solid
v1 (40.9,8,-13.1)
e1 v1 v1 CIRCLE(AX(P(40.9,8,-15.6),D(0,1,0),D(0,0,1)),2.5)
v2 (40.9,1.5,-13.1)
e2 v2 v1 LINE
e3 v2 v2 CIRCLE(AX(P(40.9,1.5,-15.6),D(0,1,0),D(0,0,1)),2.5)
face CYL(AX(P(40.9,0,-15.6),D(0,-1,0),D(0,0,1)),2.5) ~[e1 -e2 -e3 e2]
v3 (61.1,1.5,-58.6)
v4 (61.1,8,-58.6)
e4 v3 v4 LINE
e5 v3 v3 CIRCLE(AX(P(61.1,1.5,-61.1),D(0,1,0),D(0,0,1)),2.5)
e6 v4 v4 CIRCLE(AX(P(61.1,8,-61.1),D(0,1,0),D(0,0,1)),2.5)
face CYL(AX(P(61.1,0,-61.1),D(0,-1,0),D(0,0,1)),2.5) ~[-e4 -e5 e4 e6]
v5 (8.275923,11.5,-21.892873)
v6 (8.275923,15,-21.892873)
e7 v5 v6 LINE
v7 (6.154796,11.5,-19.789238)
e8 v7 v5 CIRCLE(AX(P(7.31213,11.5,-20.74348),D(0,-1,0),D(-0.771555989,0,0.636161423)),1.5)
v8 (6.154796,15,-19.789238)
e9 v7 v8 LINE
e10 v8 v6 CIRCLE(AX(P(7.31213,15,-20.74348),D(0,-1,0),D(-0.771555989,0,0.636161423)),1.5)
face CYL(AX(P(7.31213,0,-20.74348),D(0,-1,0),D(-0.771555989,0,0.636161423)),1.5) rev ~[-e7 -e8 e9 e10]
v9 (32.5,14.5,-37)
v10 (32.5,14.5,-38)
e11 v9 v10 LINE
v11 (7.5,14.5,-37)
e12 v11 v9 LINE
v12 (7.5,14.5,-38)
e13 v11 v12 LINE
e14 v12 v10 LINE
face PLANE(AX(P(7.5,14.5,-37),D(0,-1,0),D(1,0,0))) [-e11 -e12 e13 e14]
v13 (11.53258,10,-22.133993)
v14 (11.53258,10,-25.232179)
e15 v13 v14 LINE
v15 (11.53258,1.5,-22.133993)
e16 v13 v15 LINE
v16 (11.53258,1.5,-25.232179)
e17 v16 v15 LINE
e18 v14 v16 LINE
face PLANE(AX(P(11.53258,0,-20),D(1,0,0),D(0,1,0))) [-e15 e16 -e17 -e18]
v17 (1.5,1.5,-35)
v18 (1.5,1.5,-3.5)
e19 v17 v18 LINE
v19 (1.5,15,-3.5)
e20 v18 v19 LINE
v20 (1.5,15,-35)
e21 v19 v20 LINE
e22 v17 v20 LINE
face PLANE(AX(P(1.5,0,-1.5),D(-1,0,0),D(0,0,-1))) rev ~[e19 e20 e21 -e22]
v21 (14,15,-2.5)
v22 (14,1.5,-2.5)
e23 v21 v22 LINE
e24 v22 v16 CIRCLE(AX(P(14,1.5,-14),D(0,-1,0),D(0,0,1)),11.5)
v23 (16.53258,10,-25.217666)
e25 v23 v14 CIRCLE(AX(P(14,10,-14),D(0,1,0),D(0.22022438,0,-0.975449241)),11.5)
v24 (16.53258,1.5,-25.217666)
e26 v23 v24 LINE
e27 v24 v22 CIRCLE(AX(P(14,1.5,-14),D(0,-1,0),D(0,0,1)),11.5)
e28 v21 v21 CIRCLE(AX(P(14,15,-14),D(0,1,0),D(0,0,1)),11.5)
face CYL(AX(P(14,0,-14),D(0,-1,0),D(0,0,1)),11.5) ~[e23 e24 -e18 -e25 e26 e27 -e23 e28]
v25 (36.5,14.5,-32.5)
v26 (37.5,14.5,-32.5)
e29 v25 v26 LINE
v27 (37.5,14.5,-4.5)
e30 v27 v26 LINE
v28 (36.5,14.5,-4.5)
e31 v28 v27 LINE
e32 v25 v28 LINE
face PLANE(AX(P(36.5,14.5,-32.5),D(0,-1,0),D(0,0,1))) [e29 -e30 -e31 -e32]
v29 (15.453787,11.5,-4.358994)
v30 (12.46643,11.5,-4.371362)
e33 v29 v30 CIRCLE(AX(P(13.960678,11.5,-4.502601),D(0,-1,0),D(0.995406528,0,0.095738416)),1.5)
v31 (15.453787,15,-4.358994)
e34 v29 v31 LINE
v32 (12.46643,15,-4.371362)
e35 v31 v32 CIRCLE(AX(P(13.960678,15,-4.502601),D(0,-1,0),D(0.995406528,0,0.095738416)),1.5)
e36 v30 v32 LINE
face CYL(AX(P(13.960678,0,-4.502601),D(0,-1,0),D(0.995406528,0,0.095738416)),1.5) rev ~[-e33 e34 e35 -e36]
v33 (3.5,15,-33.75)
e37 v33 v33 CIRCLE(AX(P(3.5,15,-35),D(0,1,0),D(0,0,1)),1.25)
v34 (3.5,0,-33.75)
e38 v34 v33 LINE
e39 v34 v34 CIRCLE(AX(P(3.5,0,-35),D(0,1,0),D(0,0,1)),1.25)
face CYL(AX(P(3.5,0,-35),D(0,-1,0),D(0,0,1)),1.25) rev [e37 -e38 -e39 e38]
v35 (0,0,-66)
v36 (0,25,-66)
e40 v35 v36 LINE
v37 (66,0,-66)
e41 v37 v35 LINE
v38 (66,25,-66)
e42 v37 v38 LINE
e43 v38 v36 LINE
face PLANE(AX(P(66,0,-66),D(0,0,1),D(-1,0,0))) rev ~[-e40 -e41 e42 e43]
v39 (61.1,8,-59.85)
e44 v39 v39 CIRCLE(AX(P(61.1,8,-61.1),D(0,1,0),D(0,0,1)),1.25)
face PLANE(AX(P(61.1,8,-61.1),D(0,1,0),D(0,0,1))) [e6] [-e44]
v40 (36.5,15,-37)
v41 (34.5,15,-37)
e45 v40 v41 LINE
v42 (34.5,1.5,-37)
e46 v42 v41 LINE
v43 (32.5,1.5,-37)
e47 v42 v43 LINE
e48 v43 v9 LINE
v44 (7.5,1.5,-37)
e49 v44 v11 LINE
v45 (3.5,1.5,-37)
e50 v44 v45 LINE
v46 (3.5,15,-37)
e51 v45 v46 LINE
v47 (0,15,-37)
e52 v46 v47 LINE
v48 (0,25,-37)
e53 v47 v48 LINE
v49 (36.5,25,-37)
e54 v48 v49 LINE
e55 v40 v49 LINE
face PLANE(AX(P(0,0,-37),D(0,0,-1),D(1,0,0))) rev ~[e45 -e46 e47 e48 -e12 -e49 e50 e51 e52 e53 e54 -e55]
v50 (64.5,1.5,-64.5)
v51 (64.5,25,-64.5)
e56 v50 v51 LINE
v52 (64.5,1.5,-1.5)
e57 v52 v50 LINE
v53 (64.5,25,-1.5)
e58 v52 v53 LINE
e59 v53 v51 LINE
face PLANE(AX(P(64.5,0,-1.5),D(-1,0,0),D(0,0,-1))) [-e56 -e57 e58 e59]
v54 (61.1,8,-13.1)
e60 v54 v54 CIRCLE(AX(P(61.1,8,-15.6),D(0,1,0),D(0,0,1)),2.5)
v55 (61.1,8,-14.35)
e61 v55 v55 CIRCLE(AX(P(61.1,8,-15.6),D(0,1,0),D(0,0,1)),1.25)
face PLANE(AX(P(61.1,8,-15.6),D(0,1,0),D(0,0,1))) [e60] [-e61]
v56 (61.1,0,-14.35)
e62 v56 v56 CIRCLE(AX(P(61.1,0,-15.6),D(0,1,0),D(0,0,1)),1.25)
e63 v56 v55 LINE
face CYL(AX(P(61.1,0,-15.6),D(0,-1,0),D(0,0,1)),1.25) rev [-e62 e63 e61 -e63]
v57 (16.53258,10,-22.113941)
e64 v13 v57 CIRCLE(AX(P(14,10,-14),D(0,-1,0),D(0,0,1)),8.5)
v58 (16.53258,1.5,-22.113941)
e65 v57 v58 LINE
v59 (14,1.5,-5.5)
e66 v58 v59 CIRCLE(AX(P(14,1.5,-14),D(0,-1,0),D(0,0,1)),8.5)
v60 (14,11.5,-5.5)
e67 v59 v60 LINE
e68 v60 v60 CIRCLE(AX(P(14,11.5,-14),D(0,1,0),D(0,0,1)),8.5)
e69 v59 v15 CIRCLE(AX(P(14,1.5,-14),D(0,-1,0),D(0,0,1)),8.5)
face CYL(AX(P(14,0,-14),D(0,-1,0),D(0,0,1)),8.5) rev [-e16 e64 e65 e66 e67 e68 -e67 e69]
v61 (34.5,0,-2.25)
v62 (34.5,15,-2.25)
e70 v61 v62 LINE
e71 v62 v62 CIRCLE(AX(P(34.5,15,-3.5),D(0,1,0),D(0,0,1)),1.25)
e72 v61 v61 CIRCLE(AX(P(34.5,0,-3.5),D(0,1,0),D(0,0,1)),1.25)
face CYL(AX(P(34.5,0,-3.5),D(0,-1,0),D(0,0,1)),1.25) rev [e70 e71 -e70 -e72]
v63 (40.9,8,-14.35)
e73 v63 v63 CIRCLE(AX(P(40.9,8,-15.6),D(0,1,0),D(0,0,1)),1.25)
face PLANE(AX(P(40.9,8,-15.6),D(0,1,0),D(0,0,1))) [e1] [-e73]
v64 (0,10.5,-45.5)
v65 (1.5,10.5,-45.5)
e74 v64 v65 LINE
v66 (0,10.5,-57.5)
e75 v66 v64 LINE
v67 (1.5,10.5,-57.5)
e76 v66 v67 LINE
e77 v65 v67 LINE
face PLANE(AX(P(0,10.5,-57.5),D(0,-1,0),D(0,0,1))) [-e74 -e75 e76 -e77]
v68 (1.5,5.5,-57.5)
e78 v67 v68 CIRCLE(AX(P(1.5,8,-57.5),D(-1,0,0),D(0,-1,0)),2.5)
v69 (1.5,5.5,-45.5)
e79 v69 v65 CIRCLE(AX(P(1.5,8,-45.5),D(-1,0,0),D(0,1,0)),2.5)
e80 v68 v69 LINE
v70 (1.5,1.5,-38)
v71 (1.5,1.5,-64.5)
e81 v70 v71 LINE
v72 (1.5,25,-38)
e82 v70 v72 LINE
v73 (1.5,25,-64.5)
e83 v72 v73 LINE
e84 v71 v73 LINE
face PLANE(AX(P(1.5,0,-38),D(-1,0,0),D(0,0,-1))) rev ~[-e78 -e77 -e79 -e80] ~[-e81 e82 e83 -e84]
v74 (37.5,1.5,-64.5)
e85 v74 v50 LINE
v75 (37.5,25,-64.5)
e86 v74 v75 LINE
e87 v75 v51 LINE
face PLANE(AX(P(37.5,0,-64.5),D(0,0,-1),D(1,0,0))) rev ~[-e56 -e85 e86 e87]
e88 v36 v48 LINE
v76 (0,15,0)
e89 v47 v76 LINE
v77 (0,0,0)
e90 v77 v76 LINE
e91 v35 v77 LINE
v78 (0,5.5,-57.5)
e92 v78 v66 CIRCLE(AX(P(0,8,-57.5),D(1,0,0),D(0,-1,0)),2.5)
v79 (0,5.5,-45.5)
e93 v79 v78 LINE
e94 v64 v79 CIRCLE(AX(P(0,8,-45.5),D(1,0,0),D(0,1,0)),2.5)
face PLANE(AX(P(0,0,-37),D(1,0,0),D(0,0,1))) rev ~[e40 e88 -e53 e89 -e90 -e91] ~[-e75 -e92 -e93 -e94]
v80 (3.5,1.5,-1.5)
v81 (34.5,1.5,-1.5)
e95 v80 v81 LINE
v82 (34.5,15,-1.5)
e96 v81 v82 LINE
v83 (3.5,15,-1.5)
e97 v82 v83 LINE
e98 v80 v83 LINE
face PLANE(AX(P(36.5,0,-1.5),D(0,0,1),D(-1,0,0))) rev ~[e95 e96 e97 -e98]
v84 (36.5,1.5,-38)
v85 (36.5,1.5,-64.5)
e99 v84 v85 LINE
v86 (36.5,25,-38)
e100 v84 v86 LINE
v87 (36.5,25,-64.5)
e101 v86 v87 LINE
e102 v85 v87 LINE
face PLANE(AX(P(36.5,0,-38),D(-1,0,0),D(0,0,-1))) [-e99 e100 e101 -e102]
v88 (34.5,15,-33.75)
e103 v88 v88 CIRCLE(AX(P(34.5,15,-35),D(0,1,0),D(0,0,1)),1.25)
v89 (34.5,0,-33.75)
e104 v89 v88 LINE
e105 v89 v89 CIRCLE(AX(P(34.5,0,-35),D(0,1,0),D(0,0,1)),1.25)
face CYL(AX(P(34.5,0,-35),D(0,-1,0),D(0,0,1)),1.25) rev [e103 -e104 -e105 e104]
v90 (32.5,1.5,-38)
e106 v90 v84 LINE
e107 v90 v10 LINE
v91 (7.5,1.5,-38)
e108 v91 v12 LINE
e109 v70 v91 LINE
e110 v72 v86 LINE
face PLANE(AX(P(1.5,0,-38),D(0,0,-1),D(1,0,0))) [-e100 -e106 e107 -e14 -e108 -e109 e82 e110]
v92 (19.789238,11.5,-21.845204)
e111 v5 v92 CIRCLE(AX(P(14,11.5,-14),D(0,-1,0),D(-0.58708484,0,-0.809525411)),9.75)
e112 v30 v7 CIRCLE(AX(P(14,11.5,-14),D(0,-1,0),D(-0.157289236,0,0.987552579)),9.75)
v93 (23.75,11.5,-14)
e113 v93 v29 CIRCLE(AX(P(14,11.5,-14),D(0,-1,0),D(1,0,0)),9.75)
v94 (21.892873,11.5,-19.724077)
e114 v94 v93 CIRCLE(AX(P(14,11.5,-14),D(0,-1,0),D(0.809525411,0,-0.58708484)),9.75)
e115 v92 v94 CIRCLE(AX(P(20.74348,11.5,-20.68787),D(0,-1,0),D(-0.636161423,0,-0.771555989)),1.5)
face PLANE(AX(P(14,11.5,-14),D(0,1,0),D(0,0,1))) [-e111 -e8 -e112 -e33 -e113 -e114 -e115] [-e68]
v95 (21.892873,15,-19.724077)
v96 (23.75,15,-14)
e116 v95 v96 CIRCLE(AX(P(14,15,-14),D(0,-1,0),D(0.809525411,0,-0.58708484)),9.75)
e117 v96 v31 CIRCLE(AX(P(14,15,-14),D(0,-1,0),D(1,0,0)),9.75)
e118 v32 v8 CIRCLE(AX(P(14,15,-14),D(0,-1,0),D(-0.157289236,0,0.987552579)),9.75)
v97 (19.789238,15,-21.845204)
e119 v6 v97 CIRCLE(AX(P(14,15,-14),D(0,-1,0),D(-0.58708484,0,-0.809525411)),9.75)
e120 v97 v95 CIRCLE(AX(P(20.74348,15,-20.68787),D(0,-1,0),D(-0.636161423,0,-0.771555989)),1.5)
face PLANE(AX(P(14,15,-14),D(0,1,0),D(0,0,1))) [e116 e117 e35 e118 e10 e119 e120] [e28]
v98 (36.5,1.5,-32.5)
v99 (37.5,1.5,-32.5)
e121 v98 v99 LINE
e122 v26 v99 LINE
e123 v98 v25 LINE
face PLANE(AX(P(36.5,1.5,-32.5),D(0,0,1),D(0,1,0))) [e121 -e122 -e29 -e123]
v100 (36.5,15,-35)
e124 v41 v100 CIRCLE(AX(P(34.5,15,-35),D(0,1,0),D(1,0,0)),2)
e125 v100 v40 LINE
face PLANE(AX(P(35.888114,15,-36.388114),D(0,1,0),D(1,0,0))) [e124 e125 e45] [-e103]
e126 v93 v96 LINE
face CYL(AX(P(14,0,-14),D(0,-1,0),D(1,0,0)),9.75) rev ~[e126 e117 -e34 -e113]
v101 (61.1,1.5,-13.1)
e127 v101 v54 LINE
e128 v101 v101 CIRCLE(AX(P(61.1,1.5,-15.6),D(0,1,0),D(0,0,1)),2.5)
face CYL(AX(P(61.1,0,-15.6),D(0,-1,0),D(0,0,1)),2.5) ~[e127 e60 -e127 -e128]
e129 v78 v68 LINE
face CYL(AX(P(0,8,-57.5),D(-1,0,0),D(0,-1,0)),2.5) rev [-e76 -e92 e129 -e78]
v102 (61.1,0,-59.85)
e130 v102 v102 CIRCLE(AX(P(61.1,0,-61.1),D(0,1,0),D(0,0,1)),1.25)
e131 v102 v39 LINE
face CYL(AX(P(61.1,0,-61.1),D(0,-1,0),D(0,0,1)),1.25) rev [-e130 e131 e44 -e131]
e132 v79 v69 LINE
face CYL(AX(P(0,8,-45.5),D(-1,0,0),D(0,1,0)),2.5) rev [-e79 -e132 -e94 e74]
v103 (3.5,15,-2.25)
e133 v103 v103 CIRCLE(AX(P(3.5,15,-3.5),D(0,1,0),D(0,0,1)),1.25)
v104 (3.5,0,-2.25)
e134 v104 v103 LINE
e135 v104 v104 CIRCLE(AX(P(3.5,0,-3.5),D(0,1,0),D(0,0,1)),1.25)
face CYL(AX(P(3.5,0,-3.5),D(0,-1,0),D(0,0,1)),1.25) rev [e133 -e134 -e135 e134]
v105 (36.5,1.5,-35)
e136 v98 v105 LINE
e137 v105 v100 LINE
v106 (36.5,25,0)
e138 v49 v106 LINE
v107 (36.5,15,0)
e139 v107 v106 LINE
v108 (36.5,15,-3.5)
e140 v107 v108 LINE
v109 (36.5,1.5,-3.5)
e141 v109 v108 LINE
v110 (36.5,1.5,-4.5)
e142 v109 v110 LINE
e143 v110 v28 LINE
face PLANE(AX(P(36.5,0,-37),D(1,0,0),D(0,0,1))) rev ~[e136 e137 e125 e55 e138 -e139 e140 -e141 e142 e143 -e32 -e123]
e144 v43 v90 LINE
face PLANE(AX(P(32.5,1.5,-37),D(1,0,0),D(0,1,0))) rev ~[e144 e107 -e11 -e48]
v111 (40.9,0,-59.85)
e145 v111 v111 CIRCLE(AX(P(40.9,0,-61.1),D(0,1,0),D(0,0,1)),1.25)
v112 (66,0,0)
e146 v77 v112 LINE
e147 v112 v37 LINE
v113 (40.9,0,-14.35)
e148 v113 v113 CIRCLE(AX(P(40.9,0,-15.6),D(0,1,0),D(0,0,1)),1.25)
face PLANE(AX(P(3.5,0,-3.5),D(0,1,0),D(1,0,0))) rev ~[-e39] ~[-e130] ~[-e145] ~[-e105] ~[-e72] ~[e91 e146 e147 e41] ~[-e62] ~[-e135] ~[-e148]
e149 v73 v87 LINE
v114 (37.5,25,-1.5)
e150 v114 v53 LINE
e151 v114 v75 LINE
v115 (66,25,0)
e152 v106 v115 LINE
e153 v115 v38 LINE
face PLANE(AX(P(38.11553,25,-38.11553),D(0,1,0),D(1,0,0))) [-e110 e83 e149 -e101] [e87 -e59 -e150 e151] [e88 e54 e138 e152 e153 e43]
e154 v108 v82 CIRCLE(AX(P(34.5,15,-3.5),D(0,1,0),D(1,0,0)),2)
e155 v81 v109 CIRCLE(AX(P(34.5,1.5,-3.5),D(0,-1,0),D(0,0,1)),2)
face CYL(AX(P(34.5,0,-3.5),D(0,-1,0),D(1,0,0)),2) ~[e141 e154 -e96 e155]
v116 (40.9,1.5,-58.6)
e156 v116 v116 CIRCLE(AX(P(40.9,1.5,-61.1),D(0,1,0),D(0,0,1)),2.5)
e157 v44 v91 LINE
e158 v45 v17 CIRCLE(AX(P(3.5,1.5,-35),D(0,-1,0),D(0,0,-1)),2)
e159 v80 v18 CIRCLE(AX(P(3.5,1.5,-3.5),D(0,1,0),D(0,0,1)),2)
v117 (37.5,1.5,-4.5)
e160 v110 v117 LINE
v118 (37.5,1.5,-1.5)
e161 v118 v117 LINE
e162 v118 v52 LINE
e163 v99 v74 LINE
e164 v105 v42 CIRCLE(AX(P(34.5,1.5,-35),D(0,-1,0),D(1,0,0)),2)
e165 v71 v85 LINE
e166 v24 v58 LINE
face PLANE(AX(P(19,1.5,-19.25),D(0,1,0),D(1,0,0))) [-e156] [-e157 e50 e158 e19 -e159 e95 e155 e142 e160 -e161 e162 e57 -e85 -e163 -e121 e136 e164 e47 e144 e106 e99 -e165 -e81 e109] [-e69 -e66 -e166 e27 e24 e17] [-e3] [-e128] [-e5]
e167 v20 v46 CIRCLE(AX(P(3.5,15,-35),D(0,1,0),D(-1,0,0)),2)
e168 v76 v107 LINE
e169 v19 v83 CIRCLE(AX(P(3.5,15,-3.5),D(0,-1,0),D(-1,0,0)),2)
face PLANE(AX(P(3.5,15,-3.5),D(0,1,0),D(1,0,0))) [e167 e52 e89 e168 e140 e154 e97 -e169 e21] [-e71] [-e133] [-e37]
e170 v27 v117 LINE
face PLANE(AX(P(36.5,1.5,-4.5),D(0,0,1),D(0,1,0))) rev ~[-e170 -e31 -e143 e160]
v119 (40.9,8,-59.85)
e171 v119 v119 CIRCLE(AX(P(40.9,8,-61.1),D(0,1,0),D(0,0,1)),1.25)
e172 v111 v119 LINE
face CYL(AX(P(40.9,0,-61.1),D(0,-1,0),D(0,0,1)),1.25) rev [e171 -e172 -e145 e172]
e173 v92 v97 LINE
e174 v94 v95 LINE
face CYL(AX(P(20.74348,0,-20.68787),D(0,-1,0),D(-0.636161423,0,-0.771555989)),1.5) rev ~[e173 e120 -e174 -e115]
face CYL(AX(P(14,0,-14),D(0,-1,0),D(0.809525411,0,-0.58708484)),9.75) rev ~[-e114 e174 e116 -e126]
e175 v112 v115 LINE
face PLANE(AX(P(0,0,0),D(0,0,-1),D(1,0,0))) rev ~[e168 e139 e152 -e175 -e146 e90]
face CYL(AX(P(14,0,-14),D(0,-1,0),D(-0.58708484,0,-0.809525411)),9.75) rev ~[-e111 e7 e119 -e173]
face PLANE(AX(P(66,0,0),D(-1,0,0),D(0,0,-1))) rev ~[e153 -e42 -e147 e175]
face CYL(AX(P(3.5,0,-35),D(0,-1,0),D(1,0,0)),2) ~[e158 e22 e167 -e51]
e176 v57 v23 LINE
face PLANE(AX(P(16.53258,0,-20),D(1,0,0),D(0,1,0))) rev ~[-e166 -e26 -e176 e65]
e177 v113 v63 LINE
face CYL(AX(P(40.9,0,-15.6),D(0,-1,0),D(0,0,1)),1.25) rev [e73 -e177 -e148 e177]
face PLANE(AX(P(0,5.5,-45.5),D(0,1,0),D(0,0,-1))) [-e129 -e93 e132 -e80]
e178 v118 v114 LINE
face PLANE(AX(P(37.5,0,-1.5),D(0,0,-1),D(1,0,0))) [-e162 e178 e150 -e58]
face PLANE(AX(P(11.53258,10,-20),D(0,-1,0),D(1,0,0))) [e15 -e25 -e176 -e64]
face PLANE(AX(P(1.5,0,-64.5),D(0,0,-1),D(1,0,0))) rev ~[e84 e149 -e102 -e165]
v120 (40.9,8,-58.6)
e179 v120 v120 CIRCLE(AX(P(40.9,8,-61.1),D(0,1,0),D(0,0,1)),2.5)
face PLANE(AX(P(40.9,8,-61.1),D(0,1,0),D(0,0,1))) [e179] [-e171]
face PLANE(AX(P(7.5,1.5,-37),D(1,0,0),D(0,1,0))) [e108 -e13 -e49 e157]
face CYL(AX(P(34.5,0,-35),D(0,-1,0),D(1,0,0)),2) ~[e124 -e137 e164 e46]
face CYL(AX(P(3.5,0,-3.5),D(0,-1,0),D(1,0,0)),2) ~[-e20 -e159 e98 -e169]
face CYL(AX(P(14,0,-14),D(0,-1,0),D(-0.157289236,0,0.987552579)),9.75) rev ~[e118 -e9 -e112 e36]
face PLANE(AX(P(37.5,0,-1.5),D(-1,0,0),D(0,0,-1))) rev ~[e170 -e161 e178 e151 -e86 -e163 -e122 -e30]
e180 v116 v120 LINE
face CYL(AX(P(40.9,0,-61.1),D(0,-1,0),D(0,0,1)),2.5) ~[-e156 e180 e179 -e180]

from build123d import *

# Parameters (mm, degrees)
SKETCH_223_R             = 11.5
SKETCH_223_R_2           = 8.5
EXTRUDE_6_DEPTH          = 11.5
SKETCH_7_R               = 11.5
EXTRUDE_7_DEPTH          = 15
CUT_EXTRUDE_1_REACH      = 36.373
CUT_EXTRUDE_1_END_RADIUS = 11.5
SKETCH_4_W               = 5
SKETCH_4_H               = 10
SKETCH_1_W               = 35
SKETCH_1_H               = 26.5
SKETCH_1_W_2             = 27
SKETCH_1_H_2             = 63
SKETCH_1_R               = 2.5
EXTRUDE_8_DEPTH          = 1.5
SKETCH_1_5_W             = 27
SKETCH_1_5_H             = 63
SKETCH_1_5_W_2           = 35
SKETCH_1_5_H_2           = 26.5
EXTRUDE_9_DEPTH          = 25
SKETCH_1_6_R             = 2.5
SKETCH_1_6_R_2           = 1.25
EXTRUDE_10_DEPTH         = 8
EXTRUDE_11_DEPTH         = 15
SKETCH_1_9_R             = 2
SKETCH_1_9_R_2           = 1.25
EXTRUDE_22_DEPTH         = 15
CUT_EXTRUDE_2_REACH      = 81.456
SKETCH_5_W               = 28
SKETCH_5_H               = 13
CUT_EXTRUDE_3_REACH      = 81.687
SKETCH_6_W               = 25
SKETCH_6_H               = 13
CUT_EXTRUDE_4_REACH      = 98.628


with BuildPart() as part:
    # Sketch 223 → 凸台-拉伸6 (new body)
    with BuildSketch(Plane(origin=(0, 0, 0), x_dir=(1, 0, 0), z_dir=(0, 1, 0))):
        with Locations(Location((14, 14, 0), (0, 0, 270))):
            Circle(SKETCH_223_R)
        with Locations(Location((14, 14, 0), (0, 0, 270))):
            Circle(SKETCH_223_R_2, mode=Mode.SUBTRACT)
    extrude(amount=EXTRUDE_6_DEPTH)

    # Sketch 7 → 凸台-拉伸7 (add)
    with BuildSketch(Plane(origin=(0, 0, 0), x_dir=(1, 0, 0), z_dir=(0, 1, 0))):
        with Locations(Location((14, 14, 0), (0, 0, 270))):
            Circle(SKETCH_7_R)
        with BuildLine():
            ThreePointArc((21.892872757, 19.724077187), (23.274103983, 17.008902675), (23.75, 14))
            ThreePointArc((23.75, 14), (21.390430568, 7.640437435), (15.453787483, 4.358993727))
            ThreePointArc((15.453787483, 4.358993727), (13.954467258, 3.002614207), (12.466429945, 4.371362356))
            ThreePointArc((12.466429945, 4.371362356), (4.976803671, 10.306163512), (6.1547961, 19.789237926))
            ThreePointArc((6.1547961, 19.789237926), (6.255870441, 21.80852258), (8.275922813, 21.892872757))
            ThreePointArc((8.275922813, 21.892872757), (14.040367815, 23.749916432), (19.789237926, 21.8452039))
            ThreePointArc((19.789237926, 21.8452039), (21.80852258, 21.744129559), (21.892872757, 19.724077187))
        make_face(mode=Mode.SUBTRACT)
    extrude(amount=EXTRUDE_7_DEPTH)

    # 切除-拉伸1: up to this cylinder (the profile starts inside it)
    cut_extrude_1_end = Plane(origin=(14, 5, -14), z_dir=(0, -1, 0)) * Cylinder(CUT_EXTRUDE_1_END_RADIUS, 96.746, mode=Mode.PRIVATE)
    # 草图4 → 切除-拉伸1 (cut, up to the surface)
    with BuildSketch(Plane.XY.offset(-20), mode=Mode.PRIVATE) as cut_extrude_1_sk1:
        with Locations((14.03258037, 5)):
            Rectangle(SKETCH_4_W, SKETCH_4_H)
    cut_extrude_1_tool1 = extrude(cut_extrude_1_sk1.sketch, amount=-CUT_EXTRUDE_1_REACH, mode=Mode.PRIVATE) & cut_extrude_1_end
    add(cut_extrude_1_tool1.solids().sort_by_distance((14.03258, 5, -20))[0], mode=Mode.SUBTRACT)

    # 草图1 → 凸台-拉伸8 (add)
    # profile 1 of 3: a face of its own
    with BuildSketch(Plane(origin=(0, 0, 0), x_dir=(1, 0, 0), z_dir=(0, 1, 0))):
        with Locations((19, 51.25)):
            Rectangle(SKETCH_1_W, SKETCH_1_H)
    # profile 2 of 3: a face of its own
    with BuildSketch(Plane(origin=(0, 0, 0), x_dir=(1, 0, 0), z_dir=(0, 1, 0))):
        with BuildLine():
            ThreePointArc((3.5, 37), (4.914213562, 33.585786438), (1.5, 35))
            Line((1.5, 35), (1.5, 3.5))
            ThreePointArc((1.5, 3.5), (4.914213562, 4.914213562), (3.5, 1.5))
            Line((3.5, 1.5), (34.5, 1.5))
            ThreePointArc((34.5, 1.5), (33.085786438, 4.914213562), (36.5, 3.5))
            Line((36.5, 3.5), (36.5, 35))
            ThreePointArc((36.5, 35), (33.085786438, 33.585786438), (34.5, 37))
            Line((34.5, 37), (3.5, 37))
        make_face()
    # profile 3 of 3: a face of its own
    with BuildSketch(Plane(origin=(0, 0, 0), x_dir=(1, 0, 0), z_dir=(0, 1, 0))):
        with Locations((51, 33)):
            Rectangle(SKETCH_1_W_2, SKETCH_1_H_2)
        with Locations(Location((40.9, 15.6, 0), (0, 0, 270))):
            Circle(SKETCH_1_R, mode=Mode.SUBTRACT)
        with Locations(Location((61.1, 15.6, 0), (0, 0, 270))):
            Circle(SKETCH_1_R, mode=Mode.SUBTRACT)
        with Locations(Location((40.9, 61.1, 0), (0, 0, 270))):
            Circle(SKETCH_1_R, mode=Mode.SUBTRACT)
        with Locations(Location((61.1, 61.1, 0), (0, 0, 270))):
            Circle(SKETCH_1_R, mode=Mode.SUBTRACT)
    extrude(amount=EXTRUDE_8_DEPTH)


with BuildPart() as extrude_8_piece_1:
    # of the separate pieces the step leaves, piece 1, a body of its own (extrude_8_pieces)
    add(part.part.solids().sort_by_distance((14, 15, -2.5))[0])



with BuildPart() as extrude_8_piece_2:
    # of the separate pieces the step leaves, piece 2, a body of its own (extrude_8_pieces)
    add(part.part.solids().sort_by_distance((37.5, 0, -1.5))[0])



with BuildPart() as extrude_8_piece_3:
    # of the separate pieces the step leaves, piece 3, a body of its own (extrude_8_pieces)
    add(part.part.solids().sort_by_distance((1.5, 0, -64.5))[0])


with BuildPart() as extrude_8_piece_2_1:
    add(extrude_8_piece_2.part)

    add(extrude_8_piece_3.part)  # 凸台-拉伸9 merges 凸台-拉伸8 piece 3
    # 草图1<5> → 凸台-拉伸9 (add)
    with BuildSketch(Plane(origin=(0, 0, 0), x_dir=(1, 0, 0), z_dir=(0, 1, 0))):
        Polygon((0, 37), (36.5, 37), (36.5, 0), (66, 0), (66, 66), (0, 66), align=None)
        with Locations((51, 33)):
            Rectangle(SKETCH_1_5_W, SKETCH_1_5_H, mode=Mode.SUBTRACT)
        with Locations((19, 51.25)):
            Rectangle(SKETCH_1_5_W_2, SKETCH_1_5_H_2, mode=Mode.SUBTRACT)
    extrude(amount=EXTRUDE_9_DEPTH)

    # 草图1<6> → 凸台-拉伸10 (add)
    # profile 1 of 4: a face of its own
    with BuildSketch(Plane(origin=(0, 0, 0), x_dir=(1, 0, 0), z_dir=(0, 1, 0))):
        with Locations(Location((61.1, 61.1, 0), (0, 0, 270))):
            Circle(SKETCH_1_6_R)
        with Locations(Location((61.1, 61.1, 0), (0, 0, 270))):
            Circle(SKETCH_1_6_R_2, mode=Mode.SUBTRACT)
    # profile 2 of 4: a face of its own
    with BuildSketch(Plane(origin=(0, 0, 0), x_dir=(1, 0, 0), z_dir=(0, 1, 0))):
        with Locations(Location((40.9, 61.1, 0), (0, 0, 270))):
            Circle(SKETCH_1_6_R)
        with Locations(Location((40.9, 61.1, 0), (0, 0, 270))):
            Circle(SKETCH_1_6_R_2, mode=Mode.SUBTRACT)
    # profile 3 of 4: a face of its own
    with BuildSketch(Plane(origin=(0, 0, 0), x_dir=(1, 0, 0), z_dir=(0, 1, 0))):
        with Locations(Location((40.9, 15.6, 0), (0, 0, 270))):
            Circle(SKETCH_1_6_R)
        with Locations(Location((40.9, 15.6, 0), (0, 0, 270))):
            Circle(SKETCH_1_6_R_2, mode=Mode.SUBTRACT)
    # profile 4 of 4: a face of its own
    with BuildSketch(Plane(origin=(0, 0, 0), x_dir=(1, 0, 0), z_dir=(0, 1, 0))):
        with Locations(Location((61.1, 15.6, 0), (0, 0, 270))):
            Circle(SKETCH_1_6_R)
        with Locations(Location((61.1, 15.6, 0), (0, 0, 270))):
            Circle(SKETCH_1_6_R_2, mode=Mode.SUBTRACT)
    extrude(amount=EXTRUDE_10_DEPTH)


with BuildPart() as extrude_8_piece_1_1:
    add(extrude_8_piece_1.part)

    add(extrude_8_piece_2_1.part)  # 凸台-拉伸11 merges 凸台-拉伸8 piece 2
    # 草图1<7> → 凸台-拉伸11 (add)
    with BuildSketch(Plane(origin=(0, 0, 0), x_dir=(1, 0, 0), z_dir=(0, 1, 0))):
        Polygon((1.5, 35), (1.5, 37), (0, 37), (0, 0), (36.5, 0), (36.5, 1.5), (34.5, 1.5), (3.5, 1.5), (1.5, 1.5), (1.5, 3.5), align=None)
    extrude(amount=EXTRUDE_11_DEPTH)

    # 草图1<9> → 凸台-拉伸22 (add)
    # profile 1 of 8: a face of its own
    with BuildSketch(Plane(origin=(0, 0, 0), x_dir=(1, 0, 0), z_dir=(0, 1, 0))):
        with Locations((3.5, 3.5)):
            Circle(SKETCH_1_9_R)
        with Locations(Location((3.5, 3.5, 0), (0, 0, 270))):
            Circle(SKETCH_1_9_R_2, mode=Mode.SUBTRACT)
    # profile 2 of 8: a face of its own
    with BuildSketch(Plane(origin=(0, 0, 0), x_dir=(1, 0, 0), z_dir=(0, 1, 0))):
        with BuildLine():
            ThreePointArc((3.5, 1.5), (2.085786438, 2.085786438), (1.5, 3.5))
            Line((1.5, 3.5), (1.5, 1.5))
            Line((1.5, 1.5), (3.5, 1.5))
        make_face()
    # profile 3 of 8: a face of its own
    with BuildSketch(Plane(origin=(0, 0, 0), x_dir=(1, 0, 0), z_dir=(0, 1, 0))):
        with Locations((34.5, 3.5)):
            Circle(SKETCH_1_9_R)
        with Locations(Location((34.5, 3.5, 0), (0, 0, 270))):
            Circle(SKETCH_1_9_R_2, mode=Mode.SUBTRACT)
    # profile 4 of 8: a face of its own
    with BuildSketch(Plane(origin=(0, 0, 0), x_dir=(1, 0, 0), z_dir=(0, 1, 0))):
        with BuildLine():
            ThreePointArc((36.5, 3.5), (35.914213562, 2.085786438), (34.5, 1.5))
            Line((34.5, 1.5), (36.5, 1.5))
            Line((36.5, 1.5), (36.5, 3.5))
        make_face()
    # profile 5 of 8: a face of its own
    with BuildSketch(Plane(origin=(0, 0, 0), x_dir=(1, 0, 0), z_dir=(0, 1, 0))):
        with Locations((34.5, 35)):
            Circle(SKETCH_1_9_R)
        with Locations(Location((34.5, 35, 0), (0, 0, 270))):
            Circle(SKETCH_1_9_R_2, mode=Mode.SUBTRACT)
    # profile 6 of 8: a face of its own
    with BuildSketch(Plane(origin=(0, 0, 0), x_dir=(1, 0, 0), z_dir=(0, 1, 0))):
        with BuildLine():
            Line((36.5, 37), (34.5, 37))
            ThreePointArc((34.5, 37), (35.914213562, 36.414213562), (36.5, 35))
            Line((36.5, 35), (36.5, 37))
        make_face()
    # profile 7 of 8: a face of its own
    with BuildSketch(Plane(origin=(0, 0, 0), x_dir=(1, 0, 0), z_dir=(0, 1, 0))):
        with Locations((3.5, 35)):
            Circle(SKETCH_1_9_R)
        with Locations(Location((3.5, 35, 0), (0, 0, 270))):
            Circle(SKETCH_1_9_R_2, mode=Mode.SUBTRACT)
    # profile 8 of 8: a face of its own
    with BuildSketch(Plane(origin=(0, 0, 0), x_dir=(1, 0, 0), z_dir=(0, 1, 0))):
        with BuildLine():
            Line((3.5, 37), (1.5, 37))
            Line((1.5, 37), (1.5, 35))
            ThreePointArc((1.5, 35), (2.085786438, 36.414213562), (3.5, 37))
        make_face()
    extrude(amount=EXTRUDE_22_DEPTH)

    # 草图5 → 切除-拉伸2 (cut, up to next)
    with BuildSketch(Plane.ZY.offset(-36.5), mode=Mode.PRIVATE) as cut_extrude_2_sk1:
        with Locations((-18.5, 8)):
            Rectangle(SKETCH_5_W, SKETCH_5_H)
    cut_extrude_2_tool1 = extrude(cut_extrude_2_sk1.sketch, amount=-CUT_EXTRUDE_2_REACH, mode=Mode.PRIVATE) & extrude_8_piece_1_1.part
    add(cut_extrude_2_tool1.solids().sort_by_distance((36.5, 8, -18.5))[0], mode=Mode.SUBTRACT)

    # 草图6 → 切除-拉伸3 (cut, up to next)
    with BuildSketch(Plane.XY.offset(-37), mode=Mode.PRIVATE) as cut_extrude_3_sk1:
        with Locations((20, 8)):
            Rectangle(SKETCH_6_W, SKETCH_6_H)
    cut_extrude_3_tool1 = extrude(cut_extrude_3_sk1.sketch, amount=-CUT_EXTRUDE_3_REACH, mode=Mode.PRIVATE) & extrude_8_piece_1_1.part
    add(cut_extrude_3_tool1.solids().sort_by_distance((20, 8, -37))[0], mode=Mode.SUBTRACT)

    # Sketch 7 2 → 切除-拉伸4 (cut, up to next)
    with BuildSketch(Plane.ZY, mode=Mode.PRIVATE) as cut_extrude_4_sk1:
        with BuildLine():
            Line((-57.5, 10.5), (-45.5, 10.5))
            ThreePointArc((-45.5, 10.5), (-43, 8), (-45.5, 5.5))
            Line((-45.5, 5.5), (-57.5, 5.5))
            ThreePointArc((-57.5, 5.5), (-60, 8), (-57.5, 10.5))
        make_face()
    cut_extrude_4_tool1 = extrude(cut_extrude_4_sk1.sketch, amount=-CUT_EXTRUDE_4_REACH, mode=Mode.PRIVATE) & extrude_8_piece_1_1.part
    add(cut_extrude_4_tool1.solids().sort_by_distance((0, 8, -51.5))[0], mode=Mode.SUBTRACT)


solid = extrude_8_piece_1_1.part
